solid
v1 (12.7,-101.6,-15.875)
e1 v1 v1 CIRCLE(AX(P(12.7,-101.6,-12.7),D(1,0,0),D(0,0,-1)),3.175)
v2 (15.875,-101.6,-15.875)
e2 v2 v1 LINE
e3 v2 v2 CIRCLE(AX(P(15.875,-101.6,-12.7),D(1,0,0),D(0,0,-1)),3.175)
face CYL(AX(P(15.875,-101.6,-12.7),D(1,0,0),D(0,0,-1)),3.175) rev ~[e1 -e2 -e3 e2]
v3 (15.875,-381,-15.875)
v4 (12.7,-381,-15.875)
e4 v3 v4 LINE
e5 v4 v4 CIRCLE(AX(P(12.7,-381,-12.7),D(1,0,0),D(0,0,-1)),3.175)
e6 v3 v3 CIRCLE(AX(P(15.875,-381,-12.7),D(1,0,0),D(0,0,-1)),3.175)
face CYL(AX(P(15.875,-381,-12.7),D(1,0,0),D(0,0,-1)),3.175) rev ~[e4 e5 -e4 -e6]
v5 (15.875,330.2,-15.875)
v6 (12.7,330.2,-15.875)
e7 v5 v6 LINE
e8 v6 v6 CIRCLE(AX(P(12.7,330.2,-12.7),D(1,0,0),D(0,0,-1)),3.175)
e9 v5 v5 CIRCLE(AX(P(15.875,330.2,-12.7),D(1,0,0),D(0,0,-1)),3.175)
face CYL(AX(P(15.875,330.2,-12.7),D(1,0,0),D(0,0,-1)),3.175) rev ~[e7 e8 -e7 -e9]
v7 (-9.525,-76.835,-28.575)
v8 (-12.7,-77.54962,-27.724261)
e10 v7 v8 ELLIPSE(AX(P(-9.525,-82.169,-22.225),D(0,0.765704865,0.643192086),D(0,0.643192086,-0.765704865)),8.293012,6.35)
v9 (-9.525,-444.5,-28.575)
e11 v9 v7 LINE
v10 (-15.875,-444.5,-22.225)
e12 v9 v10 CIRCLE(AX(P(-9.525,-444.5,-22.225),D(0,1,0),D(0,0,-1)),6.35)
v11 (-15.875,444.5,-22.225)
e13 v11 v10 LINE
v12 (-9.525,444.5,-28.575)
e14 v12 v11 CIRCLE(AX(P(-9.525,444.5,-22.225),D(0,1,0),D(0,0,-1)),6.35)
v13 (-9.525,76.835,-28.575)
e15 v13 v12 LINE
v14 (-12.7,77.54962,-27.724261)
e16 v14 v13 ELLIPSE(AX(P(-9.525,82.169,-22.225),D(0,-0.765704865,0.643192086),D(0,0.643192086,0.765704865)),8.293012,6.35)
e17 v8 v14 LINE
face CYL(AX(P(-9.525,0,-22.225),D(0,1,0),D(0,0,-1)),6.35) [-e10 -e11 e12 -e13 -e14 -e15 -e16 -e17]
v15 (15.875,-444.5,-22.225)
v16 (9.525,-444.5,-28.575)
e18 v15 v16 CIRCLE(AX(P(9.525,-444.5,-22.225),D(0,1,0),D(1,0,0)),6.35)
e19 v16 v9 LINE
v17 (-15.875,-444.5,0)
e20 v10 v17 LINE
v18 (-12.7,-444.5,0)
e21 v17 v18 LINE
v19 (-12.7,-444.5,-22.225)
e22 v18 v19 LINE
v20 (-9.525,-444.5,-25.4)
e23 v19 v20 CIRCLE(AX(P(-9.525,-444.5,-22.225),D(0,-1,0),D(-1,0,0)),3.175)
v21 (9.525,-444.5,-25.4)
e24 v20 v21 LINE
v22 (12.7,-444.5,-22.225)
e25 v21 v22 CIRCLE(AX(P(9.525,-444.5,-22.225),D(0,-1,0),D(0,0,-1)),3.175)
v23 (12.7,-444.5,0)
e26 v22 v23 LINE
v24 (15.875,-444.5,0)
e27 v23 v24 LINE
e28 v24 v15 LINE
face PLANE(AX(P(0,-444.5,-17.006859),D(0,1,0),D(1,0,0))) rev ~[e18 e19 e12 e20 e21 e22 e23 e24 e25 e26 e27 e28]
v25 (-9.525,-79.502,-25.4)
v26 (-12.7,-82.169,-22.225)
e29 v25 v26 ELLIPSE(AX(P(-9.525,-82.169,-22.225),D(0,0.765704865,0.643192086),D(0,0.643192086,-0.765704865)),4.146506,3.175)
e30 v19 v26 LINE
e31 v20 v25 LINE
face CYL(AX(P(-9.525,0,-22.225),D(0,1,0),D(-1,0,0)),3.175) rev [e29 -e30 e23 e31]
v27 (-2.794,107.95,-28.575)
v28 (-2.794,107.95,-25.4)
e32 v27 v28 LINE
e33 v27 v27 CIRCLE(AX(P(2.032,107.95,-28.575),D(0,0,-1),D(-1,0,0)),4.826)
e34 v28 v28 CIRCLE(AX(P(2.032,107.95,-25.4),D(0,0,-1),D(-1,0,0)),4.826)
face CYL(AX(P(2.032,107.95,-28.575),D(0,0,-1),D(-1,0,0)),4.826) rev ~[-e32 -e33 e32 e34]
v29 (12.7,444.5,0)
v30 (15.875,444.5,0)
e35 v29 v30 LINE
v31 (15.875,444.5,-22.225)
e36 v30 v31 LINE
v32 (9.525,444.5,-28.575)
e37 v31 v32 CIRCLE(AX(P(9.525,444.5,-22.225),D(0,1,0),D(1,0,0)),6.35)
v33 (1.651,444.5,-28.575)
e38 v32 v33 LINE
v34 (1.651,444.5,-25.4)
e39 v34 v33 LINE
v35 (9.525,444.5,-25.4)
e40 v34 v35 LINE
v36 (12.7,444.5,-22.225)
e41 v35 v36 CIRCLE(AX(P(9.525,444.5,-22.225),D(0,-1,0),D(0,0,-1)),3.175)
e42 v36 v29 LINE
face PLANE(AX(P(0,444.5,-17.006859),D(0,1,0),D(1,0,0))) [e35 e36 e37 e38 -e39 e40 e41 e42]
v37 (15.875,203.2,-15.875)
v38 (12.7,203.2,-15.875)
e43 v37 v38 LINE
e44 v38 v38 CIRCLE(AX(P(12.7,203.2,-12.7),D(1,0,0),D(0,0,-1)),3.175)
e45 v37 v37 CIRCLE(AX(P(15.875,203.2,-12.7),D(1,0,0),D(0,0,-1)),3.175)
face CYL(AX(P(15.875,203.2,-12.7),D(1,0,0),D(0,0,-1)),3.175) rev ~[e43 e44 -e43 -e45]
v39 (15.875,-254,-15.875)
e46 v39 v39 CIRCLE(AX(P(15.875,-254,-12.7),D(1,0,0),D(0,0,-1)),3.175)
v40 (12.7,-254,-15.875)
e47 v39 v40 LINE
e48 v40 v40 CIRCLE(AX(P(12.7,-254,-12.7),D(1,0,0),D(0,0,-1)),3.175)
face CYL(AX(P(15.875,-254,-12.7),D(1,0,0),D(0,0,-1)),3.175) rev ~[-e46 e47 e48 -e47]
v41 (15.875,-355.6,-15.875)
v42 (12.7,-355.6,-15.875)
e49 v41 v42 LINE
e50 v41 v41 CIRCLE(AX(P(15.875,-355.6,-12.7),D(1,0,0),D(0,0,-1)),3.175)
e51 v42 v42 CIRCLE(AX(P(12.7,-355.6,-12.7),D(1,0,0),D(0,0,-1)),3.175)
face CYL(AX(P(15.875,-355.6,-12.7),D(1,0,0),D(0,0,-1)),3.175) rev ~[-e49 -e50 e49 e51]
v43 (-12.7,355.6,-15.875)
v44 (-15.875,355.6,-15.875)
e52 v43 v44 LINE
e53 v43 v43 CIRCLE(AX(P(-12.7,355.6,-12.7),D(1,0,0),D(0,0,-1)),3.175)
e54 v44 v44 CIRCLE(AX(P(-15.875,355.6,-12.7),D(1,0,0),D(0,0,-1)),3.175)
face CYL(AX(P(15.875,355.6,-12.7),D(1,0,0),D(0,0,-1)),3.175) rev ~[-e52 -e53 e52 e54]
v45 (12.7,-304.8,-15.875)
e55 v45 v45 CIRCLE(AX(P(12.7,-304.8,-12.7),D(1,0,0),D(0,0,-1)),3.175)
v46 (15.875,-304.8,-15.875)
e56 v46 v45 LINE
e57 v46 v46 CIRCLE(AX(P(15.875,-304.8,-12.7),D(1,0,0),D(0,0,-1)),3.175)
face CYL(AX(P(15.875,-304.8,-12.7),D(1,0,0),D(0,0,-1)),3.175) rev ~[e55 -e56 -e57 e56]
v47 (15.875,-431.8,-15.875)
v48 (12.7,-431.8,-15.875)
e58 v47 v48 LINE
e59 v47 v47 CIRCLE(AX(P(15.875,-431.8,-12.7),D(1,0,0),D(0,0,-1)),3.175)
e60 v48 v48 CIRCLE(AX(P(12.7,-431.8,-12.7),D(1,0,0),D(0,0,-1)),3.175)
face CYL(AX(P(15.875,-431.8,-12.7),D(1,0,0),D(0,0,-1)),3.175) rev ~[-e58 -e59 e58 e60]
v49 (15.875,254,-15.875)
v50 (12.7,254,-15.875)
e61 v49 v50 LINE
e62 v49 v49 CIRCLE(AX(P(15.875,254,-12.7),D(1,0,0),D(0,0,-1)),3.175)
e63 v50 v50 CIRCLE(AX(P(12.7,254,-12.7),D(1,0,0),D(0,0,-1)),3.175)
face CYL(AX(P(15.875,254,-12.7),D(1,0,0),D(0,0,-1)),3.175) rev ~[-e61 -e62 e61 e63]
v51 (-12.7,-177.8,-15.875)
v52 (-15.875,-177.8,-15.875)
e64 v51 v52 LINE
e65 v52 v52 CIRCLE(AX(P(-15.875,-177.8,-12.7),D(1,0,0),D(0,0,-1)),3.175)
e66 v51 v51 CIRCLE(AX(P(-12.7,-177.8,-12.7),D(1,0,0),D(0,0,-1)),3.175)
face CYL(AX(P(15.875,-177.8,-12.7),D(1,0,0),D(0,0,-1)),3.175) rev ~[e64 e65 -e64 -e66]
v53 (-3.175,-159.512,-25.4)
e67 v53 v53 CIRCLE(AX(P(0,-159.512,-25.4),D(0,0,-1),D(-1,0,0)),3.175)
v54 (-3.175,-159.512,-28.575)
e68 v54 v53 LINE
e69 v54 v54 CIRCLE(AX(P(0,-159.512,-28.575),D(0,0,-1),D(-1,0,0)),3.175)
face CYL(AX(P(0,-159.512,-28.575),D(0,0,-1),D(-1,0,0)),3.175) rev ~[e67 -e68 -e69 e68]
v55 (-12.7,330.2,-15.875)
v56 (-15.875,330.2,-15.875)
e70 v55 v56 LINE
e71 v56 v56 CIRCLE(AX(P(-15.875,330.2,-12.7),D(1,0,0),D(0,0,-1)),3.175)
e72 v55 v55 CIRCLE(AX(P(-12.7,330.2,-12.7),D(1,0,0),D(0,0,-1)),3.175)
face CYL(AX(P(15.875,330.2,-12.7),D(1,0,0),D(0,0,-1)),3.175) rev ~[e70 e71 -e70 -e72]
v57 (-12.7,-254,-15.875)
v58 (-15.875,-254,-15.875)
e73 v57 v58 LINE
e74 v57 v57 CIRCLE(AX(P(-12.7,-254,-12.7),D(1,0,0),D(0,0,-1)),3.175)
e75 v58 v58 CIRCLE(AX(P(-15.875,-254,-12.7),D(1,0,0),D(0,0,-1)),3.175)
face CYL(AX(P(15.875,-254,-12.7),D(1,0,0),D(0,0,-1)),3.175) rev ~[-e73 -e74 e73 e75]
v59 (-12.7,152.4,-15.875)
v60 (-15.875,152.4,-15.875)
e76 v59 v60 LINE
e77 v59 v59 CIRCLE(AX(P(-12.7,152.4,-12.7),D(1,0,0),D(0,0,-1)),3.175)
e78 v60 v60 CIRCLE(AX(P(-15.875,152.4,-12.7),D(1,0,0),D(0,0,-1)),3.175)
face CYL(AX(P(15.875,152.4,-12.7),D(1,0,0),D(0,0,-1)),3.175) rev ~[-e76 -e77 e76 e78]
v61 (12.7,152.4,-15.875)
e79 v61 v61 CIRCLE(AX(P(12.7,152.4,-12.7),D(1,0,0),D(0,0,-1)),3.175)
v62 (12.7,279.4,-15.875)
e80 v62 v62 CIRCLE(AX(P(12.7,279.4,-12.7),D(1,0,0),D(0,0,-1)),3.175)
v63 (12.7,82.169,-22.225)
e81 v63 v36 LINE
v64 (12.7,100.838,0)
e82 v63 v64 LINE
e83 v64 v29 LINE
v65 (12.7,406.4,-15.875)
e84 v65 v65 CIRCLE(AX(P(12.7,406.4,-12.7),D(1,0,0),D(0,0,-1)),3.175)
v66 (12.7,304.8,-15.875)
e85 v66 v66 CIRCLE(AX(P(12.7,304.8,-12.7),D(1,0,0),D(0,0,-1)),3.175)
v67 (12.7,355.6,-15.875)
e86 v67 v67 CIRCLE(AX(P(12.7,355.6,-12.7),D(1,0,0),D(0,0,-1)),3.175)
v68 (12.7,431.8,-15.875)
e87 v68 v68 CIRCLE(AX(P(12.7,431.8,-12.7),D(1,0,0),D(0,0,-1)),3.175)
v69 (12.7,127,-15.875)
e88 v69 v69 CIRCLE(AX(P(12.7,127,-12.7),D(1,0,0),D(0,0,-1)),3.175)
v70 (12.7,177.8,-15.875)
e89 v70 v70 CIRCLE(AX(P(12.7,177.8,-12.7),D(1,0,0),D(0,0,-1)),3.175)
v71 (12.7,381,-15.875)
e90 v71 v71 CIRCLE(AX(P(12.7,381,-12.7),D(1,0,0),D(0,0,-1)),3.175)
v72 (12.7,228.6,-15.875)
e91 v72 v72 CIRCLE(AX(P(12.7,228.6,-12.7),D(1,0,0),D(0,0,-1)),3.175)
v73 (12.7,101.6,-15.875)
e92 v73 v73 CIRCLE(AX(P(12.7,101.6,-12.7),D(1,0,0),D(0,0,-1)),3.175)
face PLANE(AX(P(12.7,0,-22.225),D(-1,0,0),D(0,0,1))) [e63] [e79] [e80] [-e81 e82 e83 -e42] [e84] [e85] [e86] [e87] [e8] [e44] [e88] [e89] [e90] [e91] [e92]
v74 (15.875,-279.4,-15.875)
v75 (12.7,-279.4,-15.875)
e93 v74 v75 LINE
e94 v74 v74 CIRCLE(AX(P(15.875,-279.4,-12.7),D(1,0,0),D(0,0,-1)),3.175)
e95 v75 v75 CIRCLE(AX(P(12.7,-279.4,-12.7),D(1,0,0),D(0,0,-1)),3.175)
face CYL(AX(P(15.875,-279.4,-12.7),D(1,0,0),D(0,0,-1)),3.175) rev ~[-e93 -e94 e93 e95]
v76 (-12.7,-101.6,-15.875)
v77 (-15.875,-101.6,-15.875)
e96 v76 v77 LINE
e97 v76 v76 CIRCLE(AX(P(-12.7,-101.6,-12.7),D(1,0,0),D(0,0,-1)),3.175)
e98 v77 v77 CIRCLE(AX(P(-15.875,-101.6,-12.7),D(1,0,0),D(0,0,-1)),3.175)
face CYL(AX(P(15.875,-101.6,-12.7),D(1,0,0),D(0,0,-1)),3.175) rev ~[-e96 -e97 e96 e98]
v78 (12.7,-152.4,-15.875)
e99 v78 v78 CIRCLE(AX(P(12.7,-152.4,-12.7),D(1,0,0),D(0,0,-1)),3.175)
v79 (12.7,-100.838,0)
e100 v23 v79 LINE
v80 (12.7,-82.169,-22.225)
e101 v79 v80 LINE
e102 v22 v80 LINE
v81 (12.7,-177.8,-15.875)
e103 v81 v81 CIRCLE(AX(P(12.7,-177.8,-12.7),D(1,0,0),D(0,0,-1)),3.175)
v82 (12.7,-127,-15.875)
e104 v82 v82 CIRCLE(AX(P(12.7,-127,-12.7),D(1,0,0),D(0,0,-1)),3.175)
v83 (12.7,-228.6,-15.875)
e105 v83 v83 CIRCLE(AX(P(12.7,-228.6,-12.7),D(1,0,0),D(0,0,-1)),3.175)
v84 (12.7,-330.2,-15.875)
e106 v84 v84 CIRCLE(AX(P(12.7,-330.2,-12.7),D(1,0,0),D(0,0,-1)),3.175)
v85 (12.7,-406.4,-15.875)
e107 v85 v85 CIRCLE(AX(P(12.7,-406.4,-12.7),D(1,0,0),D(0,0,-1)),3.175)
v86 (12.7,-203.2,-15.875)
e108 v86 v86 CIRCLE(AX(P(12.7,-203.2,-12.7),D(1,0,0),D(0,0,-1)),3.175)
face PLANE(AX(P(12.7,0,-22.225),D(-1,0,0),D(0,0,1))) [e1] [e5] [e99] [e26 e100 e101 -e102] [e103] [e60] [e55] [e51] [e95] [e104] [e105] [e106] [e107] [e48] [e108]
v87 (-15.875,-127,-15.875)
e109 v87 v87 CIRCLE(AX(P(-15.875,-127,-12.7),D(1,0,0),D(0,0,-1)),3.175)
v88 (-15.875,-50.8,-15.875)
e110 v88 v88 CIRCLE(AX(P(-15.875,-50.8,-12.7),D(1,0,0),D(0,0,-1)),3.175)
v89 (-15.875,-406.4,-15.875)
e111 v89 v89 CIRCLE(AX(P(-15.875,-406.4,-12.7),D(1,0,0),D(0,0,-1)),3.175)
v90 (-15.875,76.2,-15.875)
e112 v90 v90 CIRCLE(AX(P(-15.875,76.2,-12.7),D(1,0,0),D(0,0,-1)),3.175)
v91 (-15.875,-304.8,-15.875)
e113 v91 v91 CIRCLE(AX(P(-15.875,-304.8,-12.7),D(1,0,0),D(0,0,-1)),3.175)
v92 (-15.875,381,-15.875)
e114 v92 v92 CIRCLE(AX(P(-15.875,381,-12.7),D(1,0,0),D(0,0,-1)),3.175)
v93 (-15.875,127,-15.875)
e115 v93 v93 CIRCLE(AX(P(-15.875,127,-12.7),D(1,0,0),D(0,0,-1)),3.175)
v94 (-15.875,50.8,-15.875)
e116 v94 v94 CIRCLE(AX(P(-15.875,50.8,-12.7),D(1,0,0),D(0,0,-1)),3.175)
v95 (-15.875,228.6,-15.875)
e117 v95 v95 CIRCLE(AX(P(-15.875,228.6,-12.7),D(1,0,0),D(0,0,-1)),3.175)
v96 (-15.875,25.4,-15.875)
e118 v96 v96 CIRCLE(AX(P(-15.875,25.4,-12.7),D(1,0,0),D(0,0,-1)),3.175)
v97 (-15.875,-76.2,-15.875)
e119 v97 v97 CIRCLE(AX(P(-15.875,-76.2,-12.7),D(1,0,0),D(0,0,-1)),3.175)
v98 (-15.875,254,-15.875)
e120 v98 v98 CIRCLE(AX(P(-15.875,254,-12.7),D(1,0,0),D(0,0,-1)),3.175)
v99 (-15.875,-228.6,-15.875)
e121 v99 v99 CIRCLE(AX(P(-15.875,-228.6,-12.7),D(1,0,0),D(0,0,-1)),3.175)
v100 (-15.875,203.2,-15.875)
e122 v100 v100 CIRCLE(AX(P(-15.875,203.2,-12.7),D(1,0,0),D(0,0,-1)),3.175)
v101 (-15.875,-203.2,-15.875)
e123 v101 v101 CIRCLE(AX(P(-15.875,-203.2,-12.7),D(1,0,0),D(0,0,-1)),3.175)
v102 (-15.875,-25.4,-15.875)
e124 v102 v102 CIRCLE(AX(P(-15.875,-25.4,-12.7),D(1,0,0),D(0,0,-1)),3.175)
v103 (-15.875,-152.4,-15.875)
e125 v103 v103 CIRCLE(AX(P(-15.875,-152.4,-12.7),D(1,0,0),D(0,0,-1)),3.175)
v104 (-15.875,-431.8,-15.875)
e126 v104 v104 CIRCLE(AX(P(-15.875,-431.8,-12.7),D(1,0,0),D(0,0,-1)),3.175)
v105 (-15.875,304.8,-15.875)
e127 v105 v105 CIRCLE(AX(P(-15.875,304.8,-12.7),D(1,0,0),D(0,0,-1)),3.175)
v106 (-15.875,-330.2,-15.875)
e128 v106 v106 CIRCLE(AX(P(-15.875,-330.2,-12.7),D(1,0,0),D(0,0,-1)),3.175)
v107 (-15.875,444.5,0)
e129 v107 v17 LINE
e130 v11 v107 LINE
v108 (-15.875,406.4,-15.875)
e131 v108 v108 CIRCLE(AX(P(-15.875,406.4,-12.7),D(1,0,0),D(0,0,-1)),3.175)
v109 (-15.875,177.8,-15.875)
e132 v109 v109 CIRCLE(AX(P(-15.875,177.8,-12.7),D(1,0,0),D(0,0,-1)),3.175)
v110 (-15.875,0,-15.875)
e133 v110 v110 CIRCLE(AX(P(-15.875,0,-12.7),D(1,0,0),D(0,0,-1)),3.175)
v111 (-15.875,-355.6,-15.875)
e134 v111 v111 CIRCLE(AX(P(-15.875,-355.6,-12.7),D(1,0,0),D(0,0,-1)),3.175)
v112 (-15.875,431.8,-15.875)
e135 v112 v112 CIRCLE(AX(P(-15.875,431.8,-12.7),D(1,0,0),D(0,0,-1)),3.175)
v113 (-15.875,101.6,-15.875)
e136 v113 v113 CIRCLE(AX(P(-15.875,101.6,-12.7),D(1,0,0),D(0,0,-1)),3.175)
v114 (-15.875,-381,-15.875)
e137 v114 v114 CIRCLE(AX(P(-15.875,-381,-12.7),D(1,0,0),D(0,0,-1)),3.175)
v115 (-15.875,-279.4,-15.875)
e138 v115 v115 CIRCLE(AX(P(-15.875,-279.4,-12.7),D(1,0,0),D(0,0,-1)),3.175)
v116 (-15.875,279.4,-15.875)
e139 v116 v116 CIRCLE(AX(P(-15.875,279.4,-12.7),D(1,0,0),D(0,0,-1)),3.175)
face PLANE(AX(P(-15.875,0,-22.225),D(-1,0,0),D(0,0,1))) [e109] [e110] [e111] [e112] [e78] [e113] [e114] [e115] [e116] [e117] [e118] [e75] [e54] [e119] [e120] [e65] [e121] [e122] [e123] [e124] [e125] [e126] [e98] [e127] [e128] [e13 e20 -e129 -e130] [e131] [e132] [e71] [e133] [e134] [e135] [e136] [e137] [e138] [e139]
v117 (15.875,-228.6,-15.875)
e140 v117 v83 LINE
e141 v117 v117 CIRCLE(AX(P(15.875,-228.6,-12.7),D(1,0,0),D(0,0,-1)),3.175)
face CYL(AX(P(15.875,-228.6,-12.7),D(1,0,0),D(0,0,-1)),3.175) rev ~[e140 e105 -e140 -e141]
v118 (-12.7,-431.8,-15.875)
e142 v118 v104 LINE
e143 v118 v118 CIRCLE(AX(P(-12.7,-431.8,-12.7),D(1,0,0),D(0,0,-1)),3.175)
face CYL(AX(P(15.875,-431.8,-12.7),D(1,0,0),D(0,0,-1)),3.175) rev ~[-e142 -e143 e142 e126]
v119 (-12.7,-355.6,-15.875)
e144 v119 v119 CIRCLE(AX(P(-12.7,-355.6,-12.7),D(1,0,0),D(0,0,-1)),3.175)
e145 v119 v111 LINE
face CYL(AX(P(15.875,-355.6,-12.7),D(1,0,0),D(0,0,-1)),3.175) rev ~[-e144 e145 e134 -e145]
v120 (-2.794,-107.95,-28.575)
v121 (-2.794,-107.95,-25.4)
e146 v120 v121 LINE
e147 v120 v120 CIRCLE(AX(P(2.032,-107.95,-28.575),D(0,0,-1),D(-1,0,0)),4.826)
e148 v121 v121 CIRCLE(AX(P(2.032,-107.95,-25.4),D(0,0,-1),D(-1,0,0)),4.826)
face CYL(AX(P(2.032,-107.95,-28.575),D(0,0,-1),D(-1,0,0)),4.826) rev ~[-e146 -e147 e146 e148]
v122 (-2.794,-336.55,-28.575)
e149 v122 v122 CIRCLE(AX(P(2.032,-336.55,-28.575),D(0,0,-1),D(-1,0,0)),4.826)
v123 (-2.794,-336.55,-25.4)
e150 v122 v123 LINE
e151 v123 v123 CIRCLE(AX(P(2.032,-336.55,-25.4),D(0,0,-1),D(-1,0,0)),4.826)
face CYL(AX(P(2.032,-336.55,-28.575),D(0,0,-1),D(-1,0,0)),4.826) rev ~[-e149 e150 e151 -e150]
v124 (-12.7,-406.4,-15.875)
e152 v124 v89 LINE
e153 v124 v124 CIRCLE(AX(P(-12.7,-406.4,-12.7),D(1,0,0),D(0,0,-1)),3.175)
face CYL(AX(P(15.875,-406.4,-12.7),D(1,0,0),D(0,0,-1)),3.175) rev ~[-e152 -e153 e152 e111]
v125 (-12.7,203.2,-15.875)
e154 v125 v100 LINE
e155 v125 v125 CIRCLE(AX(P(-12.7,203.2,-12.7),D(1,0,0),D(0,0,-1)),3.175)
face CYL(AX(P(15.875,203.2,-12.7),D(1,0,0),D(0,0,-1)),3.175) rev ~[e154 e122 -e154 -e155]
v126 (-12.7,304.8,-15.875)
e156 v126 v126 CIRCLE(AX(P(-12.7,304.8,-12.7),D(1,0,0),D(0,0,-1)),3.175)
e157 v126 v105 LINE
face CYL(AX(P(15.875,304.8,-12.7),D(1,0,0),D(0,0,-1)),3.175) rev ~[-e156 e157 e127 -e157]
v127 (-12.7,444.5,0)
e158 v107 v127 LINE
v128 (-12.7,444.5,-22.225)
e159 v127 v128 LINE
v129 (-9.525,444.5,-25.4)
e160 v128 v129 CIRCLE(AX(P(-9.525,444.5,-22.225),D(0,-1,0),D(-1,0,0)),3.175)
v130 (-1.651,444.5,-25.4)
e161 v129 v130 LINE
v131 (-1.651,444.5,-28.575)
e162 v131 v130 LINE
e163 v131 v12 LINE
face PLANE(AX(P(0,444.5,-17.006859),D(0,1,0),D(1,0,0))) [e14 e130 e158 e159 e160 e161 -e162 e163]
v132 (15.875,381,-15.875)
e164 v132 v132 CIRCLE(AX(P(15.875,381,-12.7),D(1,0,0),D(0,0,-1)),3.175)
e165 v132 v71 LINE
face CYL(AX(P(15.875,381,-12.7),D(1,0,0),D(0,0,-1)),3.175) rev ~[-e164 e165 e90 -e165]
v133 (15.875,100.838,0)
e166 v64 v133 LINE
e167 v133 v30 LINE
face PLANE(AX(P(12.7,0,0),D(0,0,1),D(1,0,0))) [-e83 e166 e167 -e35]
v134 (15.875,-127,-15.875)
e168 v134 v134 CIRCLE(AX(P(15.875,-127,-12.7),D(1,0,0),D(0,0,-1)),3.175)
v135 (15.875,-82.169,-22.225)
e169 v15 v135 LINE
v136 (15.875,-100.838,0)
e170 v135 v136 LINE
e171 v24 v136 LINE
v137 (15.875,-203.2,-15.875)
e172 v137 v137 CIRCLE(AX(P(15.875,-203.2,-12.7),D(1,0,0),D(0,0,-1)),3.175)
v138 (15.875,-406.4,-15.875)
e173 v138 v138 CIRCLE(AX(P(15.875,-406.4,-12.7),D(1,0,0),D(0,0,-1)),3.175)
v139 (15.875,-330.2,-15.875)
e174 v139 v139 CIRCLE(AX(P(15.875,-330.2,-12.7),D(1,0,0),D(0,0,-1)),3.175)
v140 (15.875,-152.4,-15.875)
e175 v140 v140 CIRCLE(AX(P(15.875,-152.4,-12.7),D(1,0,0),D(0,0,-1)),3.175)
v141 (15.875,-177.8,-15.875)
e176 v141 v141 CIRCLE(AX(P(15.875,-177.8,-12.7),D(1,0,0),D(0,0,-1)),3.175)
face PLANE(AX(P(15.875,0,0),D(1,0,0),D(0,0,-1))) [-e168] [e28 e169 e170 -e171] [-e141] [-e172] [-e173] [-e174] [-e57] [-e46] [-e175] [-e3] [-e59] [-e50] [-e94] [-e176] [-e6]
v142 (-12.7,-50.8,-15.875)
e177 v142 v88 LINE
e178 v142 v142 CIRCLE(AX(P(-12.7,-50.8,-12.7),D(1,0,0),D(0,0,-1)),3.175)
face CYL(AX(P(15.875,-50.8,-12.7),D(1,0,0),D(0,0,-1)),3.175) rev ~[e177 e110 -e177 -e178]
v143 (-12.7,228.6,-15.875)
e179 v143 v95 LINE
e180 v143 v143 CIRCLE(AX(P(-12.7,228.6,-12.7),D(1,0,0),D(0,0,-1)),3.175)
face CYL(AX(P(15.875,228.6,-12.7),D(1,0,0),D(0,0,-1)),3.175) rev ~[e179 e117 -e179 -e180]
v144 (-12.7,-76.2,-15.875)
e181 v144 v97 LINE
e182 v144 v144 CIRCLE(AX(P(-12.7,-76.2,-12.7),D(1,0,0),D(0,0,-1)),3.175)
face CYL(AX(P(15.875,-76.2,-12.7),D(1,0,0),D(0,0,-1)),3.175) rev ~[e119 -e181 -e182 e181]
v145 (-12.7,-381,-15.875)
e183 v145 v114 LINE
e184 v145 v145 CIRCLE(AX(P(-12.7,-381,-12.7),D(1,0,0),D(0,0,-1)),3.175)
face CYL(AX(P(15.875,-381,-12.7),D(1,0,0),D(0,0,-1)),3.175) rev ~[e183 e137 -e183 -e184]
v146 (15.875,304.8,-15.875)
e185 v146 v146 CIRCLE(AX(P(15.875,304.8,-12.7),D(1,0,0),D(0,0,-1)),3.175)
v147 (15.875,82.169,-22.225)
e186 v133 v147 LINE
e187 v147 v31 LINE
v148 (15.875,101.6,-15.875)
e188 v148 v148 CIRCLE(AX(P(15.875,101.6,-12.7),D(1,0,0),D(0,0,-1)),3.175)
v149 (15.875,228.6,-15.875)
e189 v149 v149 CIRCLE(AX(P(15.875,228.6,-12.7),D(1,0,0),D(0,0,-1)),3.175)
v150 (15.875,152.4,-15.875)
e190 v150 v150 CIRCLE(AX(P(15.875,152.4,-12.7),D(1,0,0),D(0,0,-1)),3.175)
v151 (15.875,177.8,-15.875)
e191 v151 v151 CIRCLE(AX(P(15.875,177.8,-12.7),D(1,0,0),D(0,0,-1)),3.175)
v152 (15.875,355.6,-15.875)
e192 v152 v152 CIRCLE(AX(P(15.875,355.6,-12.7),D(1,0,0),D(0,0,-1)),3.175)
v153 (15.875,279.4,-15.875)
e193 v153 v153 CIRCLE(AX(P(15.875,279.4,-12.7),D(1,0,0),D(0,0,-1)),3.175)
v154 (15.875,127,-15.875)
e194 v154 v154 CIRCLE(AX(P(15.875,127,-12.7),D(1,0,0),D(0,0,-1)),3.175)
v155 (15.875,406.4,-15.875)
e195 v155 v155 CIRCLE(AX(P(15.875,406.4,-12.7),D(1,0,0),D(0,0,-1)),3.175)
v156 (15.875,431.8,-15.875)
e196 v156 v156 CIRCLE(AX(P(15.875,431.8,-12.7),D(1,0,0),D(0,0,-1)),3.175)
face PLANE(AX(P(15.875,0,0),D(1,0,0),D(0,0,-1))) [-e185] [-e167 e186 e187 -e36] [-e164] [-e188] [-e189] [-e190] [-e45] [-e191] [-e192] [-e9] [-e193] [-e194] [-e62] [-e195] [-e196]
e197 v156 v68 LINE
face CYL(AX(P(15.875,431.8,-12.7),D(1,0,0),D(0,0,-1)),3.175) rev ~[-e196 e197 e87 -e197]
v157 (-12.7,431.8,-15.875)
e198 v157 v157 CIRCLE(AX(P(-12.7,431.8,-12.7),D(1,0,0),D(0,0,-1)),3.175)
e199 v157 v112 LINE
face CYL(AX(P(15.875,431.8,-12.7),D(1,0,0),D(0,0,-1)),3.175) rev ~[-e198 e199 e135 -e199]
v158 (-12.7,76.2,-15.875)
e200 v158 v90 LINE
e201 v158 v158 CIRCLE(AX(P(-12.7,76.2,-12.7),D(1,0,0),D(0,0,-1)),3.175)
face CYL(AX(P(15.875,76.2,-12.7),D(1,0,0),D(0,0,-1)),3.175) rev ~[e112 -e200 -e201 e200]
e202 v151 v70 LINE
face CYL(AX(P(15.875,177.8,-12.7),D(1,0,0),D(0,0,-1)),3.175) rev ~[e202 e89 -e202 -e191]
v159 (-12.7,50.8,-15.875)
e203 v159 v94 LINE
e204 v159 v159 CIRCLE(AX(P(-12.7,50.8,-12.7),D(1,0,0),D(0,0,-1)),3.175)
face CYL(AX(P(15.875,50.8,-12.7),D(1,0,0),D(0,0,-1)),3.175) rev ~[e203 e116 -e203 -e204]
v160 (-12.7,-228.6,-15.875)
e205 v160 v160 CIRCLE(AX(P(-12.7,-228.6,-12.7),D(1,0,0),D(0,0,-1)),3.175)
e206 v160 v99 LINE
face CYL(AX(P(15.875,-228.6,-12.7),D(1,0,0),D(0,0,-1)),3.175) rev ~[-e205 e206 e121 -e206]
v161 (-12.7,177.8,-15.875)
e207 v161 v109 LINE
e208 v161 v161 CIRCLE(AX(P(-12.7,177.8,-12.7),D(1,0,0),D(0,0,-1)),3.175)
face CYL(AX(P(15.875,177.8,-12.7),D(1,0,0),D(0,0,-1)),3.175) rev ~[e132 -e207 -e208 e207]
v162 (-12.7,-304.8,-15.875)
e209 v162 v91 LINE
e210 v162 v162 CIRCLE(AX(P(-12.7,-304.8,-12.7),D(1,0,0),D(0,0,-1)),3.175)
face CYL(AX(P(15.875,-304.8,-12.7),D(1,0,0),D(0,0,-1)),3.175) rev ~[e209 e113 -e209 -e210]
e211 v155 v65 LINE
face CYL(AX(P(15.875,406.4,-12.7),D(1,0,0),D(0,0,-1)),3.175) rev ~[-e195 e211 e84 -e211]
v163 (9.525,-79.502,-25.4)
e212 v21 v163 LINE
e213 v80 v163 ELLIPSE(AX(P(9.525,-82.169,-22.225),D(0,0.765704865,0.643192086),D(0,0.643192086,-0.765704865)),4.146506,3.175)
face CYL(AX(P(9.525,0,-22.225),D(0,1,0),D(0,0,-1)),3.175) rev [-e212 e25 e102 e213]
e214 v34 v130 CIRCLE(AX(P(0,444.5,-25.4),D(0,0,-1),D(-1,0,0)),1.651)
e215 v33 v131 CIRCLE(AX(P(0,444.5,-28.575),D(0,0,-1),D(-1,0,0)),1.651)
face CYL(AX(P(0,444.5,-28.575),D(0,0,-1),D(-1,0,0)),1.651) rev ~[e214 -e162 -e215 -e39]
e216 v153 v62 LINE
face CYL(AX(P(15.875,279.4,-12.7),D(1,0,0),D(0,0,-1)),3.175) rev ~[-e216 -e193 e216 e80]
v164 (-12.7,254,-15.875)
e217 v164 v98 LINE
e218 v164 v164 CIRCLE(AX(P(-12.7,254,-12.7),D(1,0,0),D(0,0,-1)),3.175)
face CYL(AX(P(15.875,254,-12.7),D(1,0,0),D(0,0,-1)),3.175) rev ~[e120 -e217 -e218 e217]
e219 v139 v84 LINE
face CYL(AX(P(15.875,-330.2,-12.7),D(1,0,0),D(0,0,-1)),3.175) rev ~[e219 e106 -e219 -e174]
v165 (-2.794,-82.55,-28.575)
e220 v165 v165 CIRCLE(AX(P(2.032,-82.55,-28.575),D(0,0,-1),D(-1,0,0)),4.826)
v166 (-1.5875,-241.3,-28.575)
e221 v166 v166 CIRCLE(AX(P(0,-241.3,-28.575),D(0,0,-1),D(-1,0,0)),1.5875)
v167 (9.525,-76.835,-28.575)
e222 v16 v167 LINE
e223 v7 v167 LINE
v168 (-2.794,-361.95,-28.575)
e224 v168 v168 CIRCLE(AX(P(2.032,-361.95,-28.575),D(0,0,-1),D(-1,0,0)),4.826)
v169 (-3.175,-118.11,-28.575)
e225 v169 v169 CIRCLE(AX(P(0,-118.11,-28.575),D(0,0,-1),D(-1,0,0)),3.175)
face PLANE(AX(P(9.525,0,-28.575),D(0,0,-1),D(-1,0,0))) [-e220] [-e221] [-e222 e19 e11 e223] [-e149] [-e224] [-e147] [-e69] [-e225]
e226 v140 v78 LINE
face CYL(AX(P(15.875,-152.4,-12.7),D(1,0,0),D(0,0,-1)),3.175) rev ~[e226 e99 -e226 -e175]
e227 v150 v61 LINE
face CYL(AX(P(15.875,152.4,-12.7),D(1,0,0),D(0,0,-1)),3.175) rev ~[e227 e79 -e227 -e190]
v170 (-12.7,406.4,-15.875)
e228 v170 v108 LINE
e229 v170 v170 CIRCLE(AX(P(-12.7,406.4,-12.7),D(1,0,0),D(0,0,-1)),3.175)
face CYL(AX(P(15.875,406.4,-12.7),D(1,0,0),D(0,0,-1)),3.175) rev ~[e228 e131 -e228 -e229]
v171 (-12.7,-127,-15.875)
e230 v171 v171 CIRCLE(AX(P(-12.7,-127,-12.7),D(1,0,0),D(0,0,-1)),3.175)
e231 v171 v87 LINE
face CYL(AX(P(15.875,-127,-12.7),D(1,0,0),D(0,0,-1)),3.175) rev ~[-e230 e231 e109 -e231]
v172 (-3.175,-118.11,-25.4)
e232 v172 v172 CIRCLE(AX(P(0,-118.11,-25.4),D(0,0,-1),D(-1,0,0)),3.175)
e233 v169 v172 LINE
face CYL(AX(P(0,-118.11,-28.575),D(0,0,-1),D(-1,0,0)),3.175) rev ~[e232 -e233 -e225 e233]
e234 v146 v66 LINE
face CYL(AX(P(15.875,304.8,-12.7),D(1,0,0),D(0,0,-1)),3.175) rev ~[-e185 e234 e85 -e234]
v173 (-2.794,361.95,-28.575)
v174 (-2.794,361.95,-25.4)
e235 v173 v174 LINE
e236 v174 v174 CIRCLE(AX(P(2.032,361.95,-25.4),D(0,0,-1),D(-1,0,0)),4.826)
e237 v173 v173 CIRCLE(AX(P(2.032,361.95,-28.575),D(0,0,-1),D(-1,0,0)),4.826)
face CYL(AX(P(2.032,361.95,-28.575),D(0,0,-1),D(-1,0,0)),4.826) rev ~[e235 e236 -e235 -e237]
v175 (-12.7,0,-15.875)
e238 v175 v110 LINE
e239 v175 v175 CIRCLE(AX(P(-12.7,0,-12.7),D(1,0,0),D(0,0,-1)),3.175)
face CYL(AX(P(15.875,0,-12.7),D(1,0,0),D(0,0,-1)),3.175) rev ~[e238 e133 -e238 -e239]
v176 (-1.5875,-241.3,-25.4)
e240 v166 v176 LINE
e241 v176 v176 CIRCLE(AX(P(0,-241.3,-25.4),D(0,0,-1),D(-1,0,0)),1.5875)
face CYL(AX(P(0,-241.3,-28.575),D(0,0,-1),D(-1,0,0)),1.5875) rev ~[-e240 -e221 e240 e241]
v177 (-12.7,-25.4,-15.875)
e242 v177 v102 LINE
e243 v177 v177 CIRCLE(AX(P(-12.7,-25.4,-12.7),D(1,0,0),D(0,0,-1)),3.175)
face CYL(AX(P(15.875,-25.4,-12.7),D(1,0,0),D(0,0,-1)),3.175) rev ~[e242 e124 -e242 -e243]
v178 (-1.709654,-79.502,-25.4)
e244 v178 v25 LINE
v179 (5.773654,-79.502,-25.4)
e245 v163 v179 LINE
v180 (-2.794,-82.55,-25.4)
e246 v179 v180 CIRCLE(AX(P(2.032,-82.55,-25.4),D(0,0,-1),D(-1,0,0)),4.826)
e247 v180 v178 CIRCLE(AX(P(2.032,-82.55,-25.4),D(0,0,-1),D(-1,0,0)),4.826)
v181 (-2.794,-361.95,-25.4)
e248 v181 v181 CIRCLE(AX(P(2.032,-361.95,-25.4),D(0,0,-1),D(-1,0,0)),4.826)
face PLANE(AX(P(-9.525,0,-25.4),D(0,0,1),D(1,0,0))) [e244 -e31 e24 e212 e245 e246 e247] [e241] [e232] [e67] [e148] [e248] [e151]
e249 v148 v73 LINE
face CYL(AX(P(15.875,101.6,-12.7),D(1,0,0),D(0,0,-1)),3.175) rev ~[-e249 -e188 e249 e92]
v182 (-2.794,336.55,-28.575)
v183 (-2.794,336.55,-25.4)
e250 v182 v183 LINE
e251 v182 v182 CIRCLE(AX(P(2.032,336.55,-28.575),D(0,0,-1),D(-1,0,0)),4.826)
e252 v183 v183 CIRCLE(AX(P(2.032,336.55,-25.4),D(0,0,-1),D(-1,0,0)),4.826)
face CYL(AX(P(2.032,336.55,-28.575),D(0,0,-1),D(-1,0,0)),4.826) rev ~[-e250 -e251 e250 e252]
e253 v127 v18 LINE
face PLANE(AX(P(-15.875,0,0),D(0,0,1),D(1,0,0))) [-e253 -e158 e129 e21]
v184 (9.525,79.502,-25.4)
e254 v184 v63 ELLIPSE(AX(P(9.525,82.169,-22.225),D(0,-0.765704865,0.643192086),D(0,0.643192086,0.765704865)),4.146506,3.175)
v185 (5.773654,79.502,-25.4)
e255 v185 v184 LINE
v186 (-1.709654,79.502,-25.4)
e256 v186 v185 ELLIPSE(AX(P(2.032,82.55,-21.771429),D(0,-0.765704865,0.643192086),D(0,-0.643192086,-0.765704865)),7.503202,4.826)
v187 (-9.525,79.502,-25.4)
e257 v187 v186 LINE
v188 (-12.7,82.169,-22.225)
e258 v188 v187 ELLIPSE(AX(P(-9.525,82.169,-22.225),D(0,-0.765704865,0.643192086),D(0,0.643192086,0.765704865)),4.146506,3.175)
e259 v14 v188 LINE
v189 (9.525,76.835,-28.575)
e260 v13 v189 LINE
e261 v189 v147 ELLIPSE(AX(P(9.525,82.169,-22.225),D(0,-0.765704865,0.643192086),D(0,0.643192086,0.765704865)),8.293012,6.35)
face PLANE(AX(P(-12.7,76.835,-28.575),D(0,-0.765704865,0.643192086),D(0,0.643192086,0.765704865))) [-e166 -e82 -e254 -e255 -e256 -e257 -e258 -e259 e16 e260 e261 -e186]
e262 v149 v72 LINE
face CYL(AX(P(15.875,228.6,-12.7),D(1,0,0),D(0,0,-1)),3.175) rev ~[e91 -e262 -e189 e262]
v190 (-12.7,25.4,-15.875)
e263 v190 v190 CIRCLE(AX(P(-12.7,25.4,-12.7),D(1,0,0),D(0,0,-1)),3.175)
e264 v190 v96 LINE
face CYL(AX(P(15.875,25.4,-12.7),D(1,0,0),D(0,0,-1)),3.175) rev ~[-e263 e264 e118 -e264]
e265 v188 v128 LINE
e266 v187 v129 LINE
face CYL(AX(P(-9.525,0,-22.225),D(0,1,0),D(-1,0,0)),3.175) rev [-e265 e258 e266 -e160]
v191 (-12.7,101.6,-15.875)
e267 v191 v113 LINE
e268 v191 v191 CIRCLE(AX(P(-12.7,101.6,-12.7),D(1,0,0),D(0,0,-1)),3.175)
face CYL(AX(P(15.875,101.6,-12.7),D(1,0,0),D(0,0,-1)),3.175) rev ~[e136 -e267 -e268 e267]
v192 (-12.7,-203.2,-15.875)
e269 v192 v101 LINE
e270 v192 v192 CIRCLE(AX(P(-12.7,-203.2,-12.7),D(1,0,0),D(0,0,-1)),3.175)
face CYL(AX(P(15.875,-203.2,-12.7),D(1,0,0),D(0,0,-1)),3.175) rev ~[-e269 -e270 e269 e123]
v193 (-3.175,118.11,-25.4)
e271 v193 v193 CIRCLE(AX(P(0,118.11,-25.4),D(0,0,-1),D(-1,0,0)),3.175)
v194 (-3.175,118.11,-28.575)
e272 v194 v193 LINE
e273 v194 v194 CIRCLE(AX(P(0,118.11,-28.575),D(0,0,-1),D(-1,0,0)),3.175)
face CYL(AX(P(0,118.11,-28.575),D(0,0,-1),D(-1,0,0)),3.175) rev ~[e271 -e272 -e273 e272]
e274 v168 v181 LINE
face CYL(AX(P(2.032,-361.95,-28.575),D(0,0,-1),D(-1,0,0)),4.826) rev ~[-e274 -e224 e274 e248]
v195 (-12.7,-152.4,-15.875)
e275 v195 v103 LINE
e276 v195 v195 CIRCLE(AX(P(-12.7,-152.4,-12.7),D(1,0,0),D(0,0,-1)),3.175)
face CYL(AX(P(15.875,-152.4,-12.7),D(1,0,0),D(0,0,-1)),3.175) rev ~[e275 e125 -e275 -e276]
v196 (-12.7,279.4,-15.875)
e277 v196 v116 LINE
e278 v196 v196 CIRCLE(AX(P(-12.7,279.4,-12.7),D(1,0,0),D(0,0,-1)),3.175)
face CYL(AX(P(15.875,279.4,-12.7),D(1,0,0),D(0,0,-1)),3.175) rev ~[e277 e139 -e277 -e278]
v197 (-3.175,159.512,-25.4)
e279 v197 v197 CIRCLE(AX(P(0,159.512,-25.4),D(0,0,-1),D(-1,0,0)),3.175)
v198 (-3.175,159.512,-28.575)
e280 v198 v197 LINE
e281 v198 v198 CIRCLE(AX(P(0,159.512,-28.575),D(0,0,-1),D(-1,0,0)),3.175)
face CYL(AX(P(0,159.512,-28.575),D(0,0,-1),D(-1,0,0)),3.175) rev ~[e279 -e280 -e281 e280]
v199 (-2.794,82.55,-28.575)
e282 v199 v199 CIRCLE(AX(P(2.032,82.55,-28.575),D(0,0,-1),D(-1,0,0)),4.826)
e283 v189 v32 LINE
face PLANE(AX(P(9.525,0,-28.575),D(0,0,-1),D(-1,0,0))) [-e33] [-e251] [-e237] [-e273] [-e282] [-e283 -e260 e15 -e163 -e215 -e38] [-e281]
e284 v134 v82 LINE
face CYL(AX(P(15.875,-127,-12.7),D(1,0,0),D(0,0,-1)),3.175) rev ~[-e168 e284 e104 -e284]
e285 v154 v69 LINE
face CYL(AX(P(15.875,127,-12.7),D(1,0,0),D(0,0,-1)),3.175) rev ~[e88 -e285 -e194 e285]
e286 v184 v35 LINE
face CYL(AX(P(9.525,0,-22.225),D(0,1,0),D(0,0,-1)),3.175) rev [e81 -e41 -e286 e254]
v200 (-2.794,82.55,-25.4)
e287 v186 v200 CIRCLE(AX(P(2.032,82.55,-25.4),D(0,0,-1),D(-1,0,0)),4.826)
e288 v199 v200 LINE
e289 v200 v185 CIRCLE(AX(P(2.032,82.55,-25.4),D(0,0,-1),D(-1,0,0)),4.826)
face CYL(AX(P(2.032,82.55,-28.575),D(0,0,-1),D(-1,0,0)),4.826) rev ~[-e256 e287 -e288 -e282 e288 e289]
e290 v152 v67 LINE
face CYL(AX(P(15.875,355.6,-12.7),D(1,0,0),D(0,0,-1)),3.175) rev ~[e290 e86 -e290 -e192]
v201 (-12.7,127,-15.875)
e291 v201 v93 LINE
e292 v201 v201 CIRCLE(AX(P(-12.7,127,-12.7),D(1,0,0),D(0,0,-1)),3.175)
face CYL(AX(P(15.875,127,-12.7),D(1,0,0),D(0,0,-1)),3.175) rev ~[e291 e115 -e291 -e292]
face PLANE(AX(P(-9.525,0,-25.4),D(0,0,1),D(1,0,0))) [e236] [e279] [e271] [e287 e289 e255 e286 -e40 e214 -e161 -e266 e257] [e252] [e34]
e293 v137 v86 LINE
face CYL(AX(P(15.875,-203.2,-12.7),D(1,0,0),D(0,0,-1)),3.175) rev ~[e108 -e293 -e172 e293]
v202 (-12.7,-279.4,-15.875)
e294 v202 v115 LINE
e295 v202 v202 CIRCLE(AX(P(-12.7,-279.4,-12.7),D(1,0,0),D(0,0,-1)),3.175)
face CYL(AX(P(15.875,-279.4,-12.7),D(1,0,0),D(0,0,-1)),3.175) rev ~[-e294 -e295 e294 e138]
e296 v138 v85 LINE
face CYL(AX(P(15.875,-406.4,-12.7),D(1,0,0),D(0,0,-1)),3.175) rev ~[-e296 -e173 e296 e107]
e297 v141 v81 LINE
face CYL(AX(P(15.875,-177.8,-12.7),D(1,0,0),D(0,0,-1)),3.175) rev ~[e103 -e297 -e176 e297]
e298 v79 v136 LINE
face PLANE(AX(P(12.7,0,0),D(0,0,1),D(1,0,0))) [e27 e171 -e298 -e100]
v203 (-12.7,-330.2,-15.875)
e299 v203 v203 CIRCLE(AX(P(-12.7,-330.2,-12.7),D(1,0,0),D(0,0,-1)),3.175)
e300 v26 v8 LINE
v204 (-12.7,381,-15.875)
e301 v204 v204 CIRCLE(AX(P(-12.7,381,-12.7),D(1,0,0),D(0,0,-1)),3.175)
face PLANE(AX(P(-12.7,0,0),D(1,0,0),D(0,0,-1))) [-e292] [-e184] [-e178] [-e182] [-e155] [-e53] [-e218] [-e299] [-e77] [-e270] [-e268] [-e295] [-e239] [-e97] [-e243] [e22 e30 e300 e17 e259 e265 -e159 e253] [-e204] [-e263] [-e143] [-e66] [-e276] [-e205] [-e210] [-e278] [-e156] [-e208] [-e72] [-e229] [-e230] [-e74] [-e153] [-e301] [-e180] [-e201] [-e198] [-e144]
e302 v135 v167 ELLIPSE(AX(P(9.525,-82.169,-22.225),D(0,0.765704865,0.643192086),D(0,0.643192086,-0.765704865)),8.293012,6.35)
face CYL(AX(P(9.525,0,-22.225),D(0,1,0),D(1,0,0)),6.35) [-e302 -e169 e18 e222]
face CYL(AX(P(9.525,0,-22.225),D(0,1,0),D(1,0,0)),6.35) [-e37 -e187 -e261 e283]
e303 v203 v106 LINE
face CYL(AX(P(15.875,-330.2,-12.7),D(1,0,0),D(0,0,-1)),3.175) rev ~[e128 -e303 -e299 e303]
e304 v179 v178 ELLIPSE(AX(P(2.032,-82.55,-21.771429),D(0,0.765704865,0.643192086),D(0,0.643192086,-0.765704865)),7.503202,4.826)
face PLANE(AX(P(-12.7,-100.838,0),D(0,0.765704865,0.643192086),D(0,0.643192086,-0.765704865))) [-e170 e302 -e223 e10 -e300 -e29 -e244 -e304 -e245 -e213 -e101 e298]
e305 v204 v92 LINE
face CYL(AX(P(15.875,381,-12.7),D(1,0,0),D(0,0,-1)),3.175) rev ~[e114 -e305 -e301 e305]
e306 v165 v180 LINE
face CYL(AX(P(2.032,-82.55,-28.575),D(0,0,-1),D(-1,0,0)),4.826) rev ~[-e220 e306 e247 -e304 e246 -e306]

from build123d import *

# Parameters (mm, degrees)
BOSS_EXTRUDE1_DEPTH = 444.5
SKETCH3_R           = 1.651
SKETCH3_R_2         = 4.826
SKETCH3_R_3         = 1.5875
SKETCH3_R_4         = 3.175
CUT_EXTRUDE1_DEPTH  = 446.700343561
SKETCH4_R           = 3.175
CUT_EXTRUDE2_DEPTH  = 447.547694121
LPATTERN1_COUNT     = 35
LPATTERN1_PITCH     = 25.4
CUT_EXTRUDE3_START  = -12.7
CUT_EXTRUDE3_DEPTH  = 459.400343561


with BuildPart() as part:
    # Sketch2 → Boss-Extrude1 (new, symmetric)
    with BuildSketch(Plane(origin=(0, 0, 0), x_dir=(1, 0, 0), z_dir=(0, 1, 0))):
        with BuildLine():
            Line((-12.7, 0), (-12.7, 22.225))
            ThreePointArc((-12.7, 22.225), (-11.77006403, 24.47006403), (-9.525, 25.4))
            Line((-9.525, 25.4), (9.525, 25.4))
            ThreePointArc((9.525, 25.4), (11.77006403, 24.47006403), (12.7, 22.225))
            Line((12.7, 22.225), (12.7, 0))
            Line((12.7, 0), (15.875, 0))
            Line((15.875, 0), (15.875, 22.225))
            ThreePointArc((15.875, 22.225), (14.015128061, 26.715128061), (9.525, 28.575))
            Line((9.525, 28.575), (-9.525, 28.575))
            ThreePointArc((-9.525, 28.575), (-14.015128061, 26.715128061), (-15.875, 22.225))
            Line((-15.875, 22.225), (-15.875, 0))
            Line((-15.875, 0), (-12.7, 0))
        make_face()
    extrude(amount=BOSS_EXTRUDE1_DEPTH, both=True)

    # Sketch3 → Cut-Extrude1 (cut, through all)
    with BuildSketch(Plane(origin=(0, 0, -28.575), x_dir=(-1, 0, 0), z_dir=(0, 0, -1))):
        with Locations((0, 444.5)):
            Circle(SKETCH3_R)
        with Locations((-2.032, 361.95)):
            Circle(SKETCH3_R_2)
        with Locations((-2.032, 336.55)):
            Circle(SKETCH3_R_2)
        with Locations((-2.032, 107.95)):
            Circle(SKETCH3_R_2)
        with Locations((-2.032, 82.55)):
            Circle(SKETCH3_R_2)
        with Locations((-2.032, -107.95)):
            Circle(SKETCH3_R_2)
        with Locations((-2.032, -82.55)):
            Circle(SKETCH3_R_2)
        with Locations((0, -241.3)):
            Circle(SKETCH3_R_3)
        with Locations((0, 118.11)):
            Circle(SKETCH3_R_4)
        with Locations((-2.032, -336.55)):
            Circle(SKETCH3_R_2)
        with Locations((-2.032, -361.95)):
            Circle(SKETCH3_R_2)
        with Locations((0, 159.512)):
            Circle(SKETCH3_R_4)
        with Locations((0, -159.512)):
            Circle(SKETCH3_R_4)
        with Locations((0, -118.11)):
            Circle(SKETCH3_R_4)
    extrude(amount=-CUT_EXTRUDE1_DEPTH, mode=Mode.SUBTRACT)

    # Sketch4 → Cut-Extrude2 (cut, through all)
    with BuildSketch(Plane(origin=(15.875, 0, 0), x_dir=(0, 0, -1), z_dir=(1, 0, 0))):
        with Locations((12.7, 431.8)):
            Circle(SKETCH4_R)
    cut_extrude2 = extrude(amount=-CUT_EXTRUDE2_DEPTH, mode=Mode.SUBTRACT)

    # LPattern1: Cut-Extrude2 ×35
    with Locations(*[(0, -i * LPATTERN1_PITCH, 0) for i in range(1, LPATTERN1_COUNT)]):
        add(cut_extrude2, mode=Mode.SUBTRACT)

    # Sketch5 → Cut-Extrude3 (cut, through all)
    with BuildSketch(Plane(origin=(0, 0, 0), x_dir=(0, 0, -1), z_dir=(1, 0, 0)).offset(CUT_EXTRUDE3_START)):
        Polygon((0, 100.838), (0, -100.838), (28.575, -76.835), (28.575, 76.835), align=None)
    extrude(amount=CUT_EXTRUDE3_DEPTH, mode=Mode.SUBTRACT)


solid = part.part
